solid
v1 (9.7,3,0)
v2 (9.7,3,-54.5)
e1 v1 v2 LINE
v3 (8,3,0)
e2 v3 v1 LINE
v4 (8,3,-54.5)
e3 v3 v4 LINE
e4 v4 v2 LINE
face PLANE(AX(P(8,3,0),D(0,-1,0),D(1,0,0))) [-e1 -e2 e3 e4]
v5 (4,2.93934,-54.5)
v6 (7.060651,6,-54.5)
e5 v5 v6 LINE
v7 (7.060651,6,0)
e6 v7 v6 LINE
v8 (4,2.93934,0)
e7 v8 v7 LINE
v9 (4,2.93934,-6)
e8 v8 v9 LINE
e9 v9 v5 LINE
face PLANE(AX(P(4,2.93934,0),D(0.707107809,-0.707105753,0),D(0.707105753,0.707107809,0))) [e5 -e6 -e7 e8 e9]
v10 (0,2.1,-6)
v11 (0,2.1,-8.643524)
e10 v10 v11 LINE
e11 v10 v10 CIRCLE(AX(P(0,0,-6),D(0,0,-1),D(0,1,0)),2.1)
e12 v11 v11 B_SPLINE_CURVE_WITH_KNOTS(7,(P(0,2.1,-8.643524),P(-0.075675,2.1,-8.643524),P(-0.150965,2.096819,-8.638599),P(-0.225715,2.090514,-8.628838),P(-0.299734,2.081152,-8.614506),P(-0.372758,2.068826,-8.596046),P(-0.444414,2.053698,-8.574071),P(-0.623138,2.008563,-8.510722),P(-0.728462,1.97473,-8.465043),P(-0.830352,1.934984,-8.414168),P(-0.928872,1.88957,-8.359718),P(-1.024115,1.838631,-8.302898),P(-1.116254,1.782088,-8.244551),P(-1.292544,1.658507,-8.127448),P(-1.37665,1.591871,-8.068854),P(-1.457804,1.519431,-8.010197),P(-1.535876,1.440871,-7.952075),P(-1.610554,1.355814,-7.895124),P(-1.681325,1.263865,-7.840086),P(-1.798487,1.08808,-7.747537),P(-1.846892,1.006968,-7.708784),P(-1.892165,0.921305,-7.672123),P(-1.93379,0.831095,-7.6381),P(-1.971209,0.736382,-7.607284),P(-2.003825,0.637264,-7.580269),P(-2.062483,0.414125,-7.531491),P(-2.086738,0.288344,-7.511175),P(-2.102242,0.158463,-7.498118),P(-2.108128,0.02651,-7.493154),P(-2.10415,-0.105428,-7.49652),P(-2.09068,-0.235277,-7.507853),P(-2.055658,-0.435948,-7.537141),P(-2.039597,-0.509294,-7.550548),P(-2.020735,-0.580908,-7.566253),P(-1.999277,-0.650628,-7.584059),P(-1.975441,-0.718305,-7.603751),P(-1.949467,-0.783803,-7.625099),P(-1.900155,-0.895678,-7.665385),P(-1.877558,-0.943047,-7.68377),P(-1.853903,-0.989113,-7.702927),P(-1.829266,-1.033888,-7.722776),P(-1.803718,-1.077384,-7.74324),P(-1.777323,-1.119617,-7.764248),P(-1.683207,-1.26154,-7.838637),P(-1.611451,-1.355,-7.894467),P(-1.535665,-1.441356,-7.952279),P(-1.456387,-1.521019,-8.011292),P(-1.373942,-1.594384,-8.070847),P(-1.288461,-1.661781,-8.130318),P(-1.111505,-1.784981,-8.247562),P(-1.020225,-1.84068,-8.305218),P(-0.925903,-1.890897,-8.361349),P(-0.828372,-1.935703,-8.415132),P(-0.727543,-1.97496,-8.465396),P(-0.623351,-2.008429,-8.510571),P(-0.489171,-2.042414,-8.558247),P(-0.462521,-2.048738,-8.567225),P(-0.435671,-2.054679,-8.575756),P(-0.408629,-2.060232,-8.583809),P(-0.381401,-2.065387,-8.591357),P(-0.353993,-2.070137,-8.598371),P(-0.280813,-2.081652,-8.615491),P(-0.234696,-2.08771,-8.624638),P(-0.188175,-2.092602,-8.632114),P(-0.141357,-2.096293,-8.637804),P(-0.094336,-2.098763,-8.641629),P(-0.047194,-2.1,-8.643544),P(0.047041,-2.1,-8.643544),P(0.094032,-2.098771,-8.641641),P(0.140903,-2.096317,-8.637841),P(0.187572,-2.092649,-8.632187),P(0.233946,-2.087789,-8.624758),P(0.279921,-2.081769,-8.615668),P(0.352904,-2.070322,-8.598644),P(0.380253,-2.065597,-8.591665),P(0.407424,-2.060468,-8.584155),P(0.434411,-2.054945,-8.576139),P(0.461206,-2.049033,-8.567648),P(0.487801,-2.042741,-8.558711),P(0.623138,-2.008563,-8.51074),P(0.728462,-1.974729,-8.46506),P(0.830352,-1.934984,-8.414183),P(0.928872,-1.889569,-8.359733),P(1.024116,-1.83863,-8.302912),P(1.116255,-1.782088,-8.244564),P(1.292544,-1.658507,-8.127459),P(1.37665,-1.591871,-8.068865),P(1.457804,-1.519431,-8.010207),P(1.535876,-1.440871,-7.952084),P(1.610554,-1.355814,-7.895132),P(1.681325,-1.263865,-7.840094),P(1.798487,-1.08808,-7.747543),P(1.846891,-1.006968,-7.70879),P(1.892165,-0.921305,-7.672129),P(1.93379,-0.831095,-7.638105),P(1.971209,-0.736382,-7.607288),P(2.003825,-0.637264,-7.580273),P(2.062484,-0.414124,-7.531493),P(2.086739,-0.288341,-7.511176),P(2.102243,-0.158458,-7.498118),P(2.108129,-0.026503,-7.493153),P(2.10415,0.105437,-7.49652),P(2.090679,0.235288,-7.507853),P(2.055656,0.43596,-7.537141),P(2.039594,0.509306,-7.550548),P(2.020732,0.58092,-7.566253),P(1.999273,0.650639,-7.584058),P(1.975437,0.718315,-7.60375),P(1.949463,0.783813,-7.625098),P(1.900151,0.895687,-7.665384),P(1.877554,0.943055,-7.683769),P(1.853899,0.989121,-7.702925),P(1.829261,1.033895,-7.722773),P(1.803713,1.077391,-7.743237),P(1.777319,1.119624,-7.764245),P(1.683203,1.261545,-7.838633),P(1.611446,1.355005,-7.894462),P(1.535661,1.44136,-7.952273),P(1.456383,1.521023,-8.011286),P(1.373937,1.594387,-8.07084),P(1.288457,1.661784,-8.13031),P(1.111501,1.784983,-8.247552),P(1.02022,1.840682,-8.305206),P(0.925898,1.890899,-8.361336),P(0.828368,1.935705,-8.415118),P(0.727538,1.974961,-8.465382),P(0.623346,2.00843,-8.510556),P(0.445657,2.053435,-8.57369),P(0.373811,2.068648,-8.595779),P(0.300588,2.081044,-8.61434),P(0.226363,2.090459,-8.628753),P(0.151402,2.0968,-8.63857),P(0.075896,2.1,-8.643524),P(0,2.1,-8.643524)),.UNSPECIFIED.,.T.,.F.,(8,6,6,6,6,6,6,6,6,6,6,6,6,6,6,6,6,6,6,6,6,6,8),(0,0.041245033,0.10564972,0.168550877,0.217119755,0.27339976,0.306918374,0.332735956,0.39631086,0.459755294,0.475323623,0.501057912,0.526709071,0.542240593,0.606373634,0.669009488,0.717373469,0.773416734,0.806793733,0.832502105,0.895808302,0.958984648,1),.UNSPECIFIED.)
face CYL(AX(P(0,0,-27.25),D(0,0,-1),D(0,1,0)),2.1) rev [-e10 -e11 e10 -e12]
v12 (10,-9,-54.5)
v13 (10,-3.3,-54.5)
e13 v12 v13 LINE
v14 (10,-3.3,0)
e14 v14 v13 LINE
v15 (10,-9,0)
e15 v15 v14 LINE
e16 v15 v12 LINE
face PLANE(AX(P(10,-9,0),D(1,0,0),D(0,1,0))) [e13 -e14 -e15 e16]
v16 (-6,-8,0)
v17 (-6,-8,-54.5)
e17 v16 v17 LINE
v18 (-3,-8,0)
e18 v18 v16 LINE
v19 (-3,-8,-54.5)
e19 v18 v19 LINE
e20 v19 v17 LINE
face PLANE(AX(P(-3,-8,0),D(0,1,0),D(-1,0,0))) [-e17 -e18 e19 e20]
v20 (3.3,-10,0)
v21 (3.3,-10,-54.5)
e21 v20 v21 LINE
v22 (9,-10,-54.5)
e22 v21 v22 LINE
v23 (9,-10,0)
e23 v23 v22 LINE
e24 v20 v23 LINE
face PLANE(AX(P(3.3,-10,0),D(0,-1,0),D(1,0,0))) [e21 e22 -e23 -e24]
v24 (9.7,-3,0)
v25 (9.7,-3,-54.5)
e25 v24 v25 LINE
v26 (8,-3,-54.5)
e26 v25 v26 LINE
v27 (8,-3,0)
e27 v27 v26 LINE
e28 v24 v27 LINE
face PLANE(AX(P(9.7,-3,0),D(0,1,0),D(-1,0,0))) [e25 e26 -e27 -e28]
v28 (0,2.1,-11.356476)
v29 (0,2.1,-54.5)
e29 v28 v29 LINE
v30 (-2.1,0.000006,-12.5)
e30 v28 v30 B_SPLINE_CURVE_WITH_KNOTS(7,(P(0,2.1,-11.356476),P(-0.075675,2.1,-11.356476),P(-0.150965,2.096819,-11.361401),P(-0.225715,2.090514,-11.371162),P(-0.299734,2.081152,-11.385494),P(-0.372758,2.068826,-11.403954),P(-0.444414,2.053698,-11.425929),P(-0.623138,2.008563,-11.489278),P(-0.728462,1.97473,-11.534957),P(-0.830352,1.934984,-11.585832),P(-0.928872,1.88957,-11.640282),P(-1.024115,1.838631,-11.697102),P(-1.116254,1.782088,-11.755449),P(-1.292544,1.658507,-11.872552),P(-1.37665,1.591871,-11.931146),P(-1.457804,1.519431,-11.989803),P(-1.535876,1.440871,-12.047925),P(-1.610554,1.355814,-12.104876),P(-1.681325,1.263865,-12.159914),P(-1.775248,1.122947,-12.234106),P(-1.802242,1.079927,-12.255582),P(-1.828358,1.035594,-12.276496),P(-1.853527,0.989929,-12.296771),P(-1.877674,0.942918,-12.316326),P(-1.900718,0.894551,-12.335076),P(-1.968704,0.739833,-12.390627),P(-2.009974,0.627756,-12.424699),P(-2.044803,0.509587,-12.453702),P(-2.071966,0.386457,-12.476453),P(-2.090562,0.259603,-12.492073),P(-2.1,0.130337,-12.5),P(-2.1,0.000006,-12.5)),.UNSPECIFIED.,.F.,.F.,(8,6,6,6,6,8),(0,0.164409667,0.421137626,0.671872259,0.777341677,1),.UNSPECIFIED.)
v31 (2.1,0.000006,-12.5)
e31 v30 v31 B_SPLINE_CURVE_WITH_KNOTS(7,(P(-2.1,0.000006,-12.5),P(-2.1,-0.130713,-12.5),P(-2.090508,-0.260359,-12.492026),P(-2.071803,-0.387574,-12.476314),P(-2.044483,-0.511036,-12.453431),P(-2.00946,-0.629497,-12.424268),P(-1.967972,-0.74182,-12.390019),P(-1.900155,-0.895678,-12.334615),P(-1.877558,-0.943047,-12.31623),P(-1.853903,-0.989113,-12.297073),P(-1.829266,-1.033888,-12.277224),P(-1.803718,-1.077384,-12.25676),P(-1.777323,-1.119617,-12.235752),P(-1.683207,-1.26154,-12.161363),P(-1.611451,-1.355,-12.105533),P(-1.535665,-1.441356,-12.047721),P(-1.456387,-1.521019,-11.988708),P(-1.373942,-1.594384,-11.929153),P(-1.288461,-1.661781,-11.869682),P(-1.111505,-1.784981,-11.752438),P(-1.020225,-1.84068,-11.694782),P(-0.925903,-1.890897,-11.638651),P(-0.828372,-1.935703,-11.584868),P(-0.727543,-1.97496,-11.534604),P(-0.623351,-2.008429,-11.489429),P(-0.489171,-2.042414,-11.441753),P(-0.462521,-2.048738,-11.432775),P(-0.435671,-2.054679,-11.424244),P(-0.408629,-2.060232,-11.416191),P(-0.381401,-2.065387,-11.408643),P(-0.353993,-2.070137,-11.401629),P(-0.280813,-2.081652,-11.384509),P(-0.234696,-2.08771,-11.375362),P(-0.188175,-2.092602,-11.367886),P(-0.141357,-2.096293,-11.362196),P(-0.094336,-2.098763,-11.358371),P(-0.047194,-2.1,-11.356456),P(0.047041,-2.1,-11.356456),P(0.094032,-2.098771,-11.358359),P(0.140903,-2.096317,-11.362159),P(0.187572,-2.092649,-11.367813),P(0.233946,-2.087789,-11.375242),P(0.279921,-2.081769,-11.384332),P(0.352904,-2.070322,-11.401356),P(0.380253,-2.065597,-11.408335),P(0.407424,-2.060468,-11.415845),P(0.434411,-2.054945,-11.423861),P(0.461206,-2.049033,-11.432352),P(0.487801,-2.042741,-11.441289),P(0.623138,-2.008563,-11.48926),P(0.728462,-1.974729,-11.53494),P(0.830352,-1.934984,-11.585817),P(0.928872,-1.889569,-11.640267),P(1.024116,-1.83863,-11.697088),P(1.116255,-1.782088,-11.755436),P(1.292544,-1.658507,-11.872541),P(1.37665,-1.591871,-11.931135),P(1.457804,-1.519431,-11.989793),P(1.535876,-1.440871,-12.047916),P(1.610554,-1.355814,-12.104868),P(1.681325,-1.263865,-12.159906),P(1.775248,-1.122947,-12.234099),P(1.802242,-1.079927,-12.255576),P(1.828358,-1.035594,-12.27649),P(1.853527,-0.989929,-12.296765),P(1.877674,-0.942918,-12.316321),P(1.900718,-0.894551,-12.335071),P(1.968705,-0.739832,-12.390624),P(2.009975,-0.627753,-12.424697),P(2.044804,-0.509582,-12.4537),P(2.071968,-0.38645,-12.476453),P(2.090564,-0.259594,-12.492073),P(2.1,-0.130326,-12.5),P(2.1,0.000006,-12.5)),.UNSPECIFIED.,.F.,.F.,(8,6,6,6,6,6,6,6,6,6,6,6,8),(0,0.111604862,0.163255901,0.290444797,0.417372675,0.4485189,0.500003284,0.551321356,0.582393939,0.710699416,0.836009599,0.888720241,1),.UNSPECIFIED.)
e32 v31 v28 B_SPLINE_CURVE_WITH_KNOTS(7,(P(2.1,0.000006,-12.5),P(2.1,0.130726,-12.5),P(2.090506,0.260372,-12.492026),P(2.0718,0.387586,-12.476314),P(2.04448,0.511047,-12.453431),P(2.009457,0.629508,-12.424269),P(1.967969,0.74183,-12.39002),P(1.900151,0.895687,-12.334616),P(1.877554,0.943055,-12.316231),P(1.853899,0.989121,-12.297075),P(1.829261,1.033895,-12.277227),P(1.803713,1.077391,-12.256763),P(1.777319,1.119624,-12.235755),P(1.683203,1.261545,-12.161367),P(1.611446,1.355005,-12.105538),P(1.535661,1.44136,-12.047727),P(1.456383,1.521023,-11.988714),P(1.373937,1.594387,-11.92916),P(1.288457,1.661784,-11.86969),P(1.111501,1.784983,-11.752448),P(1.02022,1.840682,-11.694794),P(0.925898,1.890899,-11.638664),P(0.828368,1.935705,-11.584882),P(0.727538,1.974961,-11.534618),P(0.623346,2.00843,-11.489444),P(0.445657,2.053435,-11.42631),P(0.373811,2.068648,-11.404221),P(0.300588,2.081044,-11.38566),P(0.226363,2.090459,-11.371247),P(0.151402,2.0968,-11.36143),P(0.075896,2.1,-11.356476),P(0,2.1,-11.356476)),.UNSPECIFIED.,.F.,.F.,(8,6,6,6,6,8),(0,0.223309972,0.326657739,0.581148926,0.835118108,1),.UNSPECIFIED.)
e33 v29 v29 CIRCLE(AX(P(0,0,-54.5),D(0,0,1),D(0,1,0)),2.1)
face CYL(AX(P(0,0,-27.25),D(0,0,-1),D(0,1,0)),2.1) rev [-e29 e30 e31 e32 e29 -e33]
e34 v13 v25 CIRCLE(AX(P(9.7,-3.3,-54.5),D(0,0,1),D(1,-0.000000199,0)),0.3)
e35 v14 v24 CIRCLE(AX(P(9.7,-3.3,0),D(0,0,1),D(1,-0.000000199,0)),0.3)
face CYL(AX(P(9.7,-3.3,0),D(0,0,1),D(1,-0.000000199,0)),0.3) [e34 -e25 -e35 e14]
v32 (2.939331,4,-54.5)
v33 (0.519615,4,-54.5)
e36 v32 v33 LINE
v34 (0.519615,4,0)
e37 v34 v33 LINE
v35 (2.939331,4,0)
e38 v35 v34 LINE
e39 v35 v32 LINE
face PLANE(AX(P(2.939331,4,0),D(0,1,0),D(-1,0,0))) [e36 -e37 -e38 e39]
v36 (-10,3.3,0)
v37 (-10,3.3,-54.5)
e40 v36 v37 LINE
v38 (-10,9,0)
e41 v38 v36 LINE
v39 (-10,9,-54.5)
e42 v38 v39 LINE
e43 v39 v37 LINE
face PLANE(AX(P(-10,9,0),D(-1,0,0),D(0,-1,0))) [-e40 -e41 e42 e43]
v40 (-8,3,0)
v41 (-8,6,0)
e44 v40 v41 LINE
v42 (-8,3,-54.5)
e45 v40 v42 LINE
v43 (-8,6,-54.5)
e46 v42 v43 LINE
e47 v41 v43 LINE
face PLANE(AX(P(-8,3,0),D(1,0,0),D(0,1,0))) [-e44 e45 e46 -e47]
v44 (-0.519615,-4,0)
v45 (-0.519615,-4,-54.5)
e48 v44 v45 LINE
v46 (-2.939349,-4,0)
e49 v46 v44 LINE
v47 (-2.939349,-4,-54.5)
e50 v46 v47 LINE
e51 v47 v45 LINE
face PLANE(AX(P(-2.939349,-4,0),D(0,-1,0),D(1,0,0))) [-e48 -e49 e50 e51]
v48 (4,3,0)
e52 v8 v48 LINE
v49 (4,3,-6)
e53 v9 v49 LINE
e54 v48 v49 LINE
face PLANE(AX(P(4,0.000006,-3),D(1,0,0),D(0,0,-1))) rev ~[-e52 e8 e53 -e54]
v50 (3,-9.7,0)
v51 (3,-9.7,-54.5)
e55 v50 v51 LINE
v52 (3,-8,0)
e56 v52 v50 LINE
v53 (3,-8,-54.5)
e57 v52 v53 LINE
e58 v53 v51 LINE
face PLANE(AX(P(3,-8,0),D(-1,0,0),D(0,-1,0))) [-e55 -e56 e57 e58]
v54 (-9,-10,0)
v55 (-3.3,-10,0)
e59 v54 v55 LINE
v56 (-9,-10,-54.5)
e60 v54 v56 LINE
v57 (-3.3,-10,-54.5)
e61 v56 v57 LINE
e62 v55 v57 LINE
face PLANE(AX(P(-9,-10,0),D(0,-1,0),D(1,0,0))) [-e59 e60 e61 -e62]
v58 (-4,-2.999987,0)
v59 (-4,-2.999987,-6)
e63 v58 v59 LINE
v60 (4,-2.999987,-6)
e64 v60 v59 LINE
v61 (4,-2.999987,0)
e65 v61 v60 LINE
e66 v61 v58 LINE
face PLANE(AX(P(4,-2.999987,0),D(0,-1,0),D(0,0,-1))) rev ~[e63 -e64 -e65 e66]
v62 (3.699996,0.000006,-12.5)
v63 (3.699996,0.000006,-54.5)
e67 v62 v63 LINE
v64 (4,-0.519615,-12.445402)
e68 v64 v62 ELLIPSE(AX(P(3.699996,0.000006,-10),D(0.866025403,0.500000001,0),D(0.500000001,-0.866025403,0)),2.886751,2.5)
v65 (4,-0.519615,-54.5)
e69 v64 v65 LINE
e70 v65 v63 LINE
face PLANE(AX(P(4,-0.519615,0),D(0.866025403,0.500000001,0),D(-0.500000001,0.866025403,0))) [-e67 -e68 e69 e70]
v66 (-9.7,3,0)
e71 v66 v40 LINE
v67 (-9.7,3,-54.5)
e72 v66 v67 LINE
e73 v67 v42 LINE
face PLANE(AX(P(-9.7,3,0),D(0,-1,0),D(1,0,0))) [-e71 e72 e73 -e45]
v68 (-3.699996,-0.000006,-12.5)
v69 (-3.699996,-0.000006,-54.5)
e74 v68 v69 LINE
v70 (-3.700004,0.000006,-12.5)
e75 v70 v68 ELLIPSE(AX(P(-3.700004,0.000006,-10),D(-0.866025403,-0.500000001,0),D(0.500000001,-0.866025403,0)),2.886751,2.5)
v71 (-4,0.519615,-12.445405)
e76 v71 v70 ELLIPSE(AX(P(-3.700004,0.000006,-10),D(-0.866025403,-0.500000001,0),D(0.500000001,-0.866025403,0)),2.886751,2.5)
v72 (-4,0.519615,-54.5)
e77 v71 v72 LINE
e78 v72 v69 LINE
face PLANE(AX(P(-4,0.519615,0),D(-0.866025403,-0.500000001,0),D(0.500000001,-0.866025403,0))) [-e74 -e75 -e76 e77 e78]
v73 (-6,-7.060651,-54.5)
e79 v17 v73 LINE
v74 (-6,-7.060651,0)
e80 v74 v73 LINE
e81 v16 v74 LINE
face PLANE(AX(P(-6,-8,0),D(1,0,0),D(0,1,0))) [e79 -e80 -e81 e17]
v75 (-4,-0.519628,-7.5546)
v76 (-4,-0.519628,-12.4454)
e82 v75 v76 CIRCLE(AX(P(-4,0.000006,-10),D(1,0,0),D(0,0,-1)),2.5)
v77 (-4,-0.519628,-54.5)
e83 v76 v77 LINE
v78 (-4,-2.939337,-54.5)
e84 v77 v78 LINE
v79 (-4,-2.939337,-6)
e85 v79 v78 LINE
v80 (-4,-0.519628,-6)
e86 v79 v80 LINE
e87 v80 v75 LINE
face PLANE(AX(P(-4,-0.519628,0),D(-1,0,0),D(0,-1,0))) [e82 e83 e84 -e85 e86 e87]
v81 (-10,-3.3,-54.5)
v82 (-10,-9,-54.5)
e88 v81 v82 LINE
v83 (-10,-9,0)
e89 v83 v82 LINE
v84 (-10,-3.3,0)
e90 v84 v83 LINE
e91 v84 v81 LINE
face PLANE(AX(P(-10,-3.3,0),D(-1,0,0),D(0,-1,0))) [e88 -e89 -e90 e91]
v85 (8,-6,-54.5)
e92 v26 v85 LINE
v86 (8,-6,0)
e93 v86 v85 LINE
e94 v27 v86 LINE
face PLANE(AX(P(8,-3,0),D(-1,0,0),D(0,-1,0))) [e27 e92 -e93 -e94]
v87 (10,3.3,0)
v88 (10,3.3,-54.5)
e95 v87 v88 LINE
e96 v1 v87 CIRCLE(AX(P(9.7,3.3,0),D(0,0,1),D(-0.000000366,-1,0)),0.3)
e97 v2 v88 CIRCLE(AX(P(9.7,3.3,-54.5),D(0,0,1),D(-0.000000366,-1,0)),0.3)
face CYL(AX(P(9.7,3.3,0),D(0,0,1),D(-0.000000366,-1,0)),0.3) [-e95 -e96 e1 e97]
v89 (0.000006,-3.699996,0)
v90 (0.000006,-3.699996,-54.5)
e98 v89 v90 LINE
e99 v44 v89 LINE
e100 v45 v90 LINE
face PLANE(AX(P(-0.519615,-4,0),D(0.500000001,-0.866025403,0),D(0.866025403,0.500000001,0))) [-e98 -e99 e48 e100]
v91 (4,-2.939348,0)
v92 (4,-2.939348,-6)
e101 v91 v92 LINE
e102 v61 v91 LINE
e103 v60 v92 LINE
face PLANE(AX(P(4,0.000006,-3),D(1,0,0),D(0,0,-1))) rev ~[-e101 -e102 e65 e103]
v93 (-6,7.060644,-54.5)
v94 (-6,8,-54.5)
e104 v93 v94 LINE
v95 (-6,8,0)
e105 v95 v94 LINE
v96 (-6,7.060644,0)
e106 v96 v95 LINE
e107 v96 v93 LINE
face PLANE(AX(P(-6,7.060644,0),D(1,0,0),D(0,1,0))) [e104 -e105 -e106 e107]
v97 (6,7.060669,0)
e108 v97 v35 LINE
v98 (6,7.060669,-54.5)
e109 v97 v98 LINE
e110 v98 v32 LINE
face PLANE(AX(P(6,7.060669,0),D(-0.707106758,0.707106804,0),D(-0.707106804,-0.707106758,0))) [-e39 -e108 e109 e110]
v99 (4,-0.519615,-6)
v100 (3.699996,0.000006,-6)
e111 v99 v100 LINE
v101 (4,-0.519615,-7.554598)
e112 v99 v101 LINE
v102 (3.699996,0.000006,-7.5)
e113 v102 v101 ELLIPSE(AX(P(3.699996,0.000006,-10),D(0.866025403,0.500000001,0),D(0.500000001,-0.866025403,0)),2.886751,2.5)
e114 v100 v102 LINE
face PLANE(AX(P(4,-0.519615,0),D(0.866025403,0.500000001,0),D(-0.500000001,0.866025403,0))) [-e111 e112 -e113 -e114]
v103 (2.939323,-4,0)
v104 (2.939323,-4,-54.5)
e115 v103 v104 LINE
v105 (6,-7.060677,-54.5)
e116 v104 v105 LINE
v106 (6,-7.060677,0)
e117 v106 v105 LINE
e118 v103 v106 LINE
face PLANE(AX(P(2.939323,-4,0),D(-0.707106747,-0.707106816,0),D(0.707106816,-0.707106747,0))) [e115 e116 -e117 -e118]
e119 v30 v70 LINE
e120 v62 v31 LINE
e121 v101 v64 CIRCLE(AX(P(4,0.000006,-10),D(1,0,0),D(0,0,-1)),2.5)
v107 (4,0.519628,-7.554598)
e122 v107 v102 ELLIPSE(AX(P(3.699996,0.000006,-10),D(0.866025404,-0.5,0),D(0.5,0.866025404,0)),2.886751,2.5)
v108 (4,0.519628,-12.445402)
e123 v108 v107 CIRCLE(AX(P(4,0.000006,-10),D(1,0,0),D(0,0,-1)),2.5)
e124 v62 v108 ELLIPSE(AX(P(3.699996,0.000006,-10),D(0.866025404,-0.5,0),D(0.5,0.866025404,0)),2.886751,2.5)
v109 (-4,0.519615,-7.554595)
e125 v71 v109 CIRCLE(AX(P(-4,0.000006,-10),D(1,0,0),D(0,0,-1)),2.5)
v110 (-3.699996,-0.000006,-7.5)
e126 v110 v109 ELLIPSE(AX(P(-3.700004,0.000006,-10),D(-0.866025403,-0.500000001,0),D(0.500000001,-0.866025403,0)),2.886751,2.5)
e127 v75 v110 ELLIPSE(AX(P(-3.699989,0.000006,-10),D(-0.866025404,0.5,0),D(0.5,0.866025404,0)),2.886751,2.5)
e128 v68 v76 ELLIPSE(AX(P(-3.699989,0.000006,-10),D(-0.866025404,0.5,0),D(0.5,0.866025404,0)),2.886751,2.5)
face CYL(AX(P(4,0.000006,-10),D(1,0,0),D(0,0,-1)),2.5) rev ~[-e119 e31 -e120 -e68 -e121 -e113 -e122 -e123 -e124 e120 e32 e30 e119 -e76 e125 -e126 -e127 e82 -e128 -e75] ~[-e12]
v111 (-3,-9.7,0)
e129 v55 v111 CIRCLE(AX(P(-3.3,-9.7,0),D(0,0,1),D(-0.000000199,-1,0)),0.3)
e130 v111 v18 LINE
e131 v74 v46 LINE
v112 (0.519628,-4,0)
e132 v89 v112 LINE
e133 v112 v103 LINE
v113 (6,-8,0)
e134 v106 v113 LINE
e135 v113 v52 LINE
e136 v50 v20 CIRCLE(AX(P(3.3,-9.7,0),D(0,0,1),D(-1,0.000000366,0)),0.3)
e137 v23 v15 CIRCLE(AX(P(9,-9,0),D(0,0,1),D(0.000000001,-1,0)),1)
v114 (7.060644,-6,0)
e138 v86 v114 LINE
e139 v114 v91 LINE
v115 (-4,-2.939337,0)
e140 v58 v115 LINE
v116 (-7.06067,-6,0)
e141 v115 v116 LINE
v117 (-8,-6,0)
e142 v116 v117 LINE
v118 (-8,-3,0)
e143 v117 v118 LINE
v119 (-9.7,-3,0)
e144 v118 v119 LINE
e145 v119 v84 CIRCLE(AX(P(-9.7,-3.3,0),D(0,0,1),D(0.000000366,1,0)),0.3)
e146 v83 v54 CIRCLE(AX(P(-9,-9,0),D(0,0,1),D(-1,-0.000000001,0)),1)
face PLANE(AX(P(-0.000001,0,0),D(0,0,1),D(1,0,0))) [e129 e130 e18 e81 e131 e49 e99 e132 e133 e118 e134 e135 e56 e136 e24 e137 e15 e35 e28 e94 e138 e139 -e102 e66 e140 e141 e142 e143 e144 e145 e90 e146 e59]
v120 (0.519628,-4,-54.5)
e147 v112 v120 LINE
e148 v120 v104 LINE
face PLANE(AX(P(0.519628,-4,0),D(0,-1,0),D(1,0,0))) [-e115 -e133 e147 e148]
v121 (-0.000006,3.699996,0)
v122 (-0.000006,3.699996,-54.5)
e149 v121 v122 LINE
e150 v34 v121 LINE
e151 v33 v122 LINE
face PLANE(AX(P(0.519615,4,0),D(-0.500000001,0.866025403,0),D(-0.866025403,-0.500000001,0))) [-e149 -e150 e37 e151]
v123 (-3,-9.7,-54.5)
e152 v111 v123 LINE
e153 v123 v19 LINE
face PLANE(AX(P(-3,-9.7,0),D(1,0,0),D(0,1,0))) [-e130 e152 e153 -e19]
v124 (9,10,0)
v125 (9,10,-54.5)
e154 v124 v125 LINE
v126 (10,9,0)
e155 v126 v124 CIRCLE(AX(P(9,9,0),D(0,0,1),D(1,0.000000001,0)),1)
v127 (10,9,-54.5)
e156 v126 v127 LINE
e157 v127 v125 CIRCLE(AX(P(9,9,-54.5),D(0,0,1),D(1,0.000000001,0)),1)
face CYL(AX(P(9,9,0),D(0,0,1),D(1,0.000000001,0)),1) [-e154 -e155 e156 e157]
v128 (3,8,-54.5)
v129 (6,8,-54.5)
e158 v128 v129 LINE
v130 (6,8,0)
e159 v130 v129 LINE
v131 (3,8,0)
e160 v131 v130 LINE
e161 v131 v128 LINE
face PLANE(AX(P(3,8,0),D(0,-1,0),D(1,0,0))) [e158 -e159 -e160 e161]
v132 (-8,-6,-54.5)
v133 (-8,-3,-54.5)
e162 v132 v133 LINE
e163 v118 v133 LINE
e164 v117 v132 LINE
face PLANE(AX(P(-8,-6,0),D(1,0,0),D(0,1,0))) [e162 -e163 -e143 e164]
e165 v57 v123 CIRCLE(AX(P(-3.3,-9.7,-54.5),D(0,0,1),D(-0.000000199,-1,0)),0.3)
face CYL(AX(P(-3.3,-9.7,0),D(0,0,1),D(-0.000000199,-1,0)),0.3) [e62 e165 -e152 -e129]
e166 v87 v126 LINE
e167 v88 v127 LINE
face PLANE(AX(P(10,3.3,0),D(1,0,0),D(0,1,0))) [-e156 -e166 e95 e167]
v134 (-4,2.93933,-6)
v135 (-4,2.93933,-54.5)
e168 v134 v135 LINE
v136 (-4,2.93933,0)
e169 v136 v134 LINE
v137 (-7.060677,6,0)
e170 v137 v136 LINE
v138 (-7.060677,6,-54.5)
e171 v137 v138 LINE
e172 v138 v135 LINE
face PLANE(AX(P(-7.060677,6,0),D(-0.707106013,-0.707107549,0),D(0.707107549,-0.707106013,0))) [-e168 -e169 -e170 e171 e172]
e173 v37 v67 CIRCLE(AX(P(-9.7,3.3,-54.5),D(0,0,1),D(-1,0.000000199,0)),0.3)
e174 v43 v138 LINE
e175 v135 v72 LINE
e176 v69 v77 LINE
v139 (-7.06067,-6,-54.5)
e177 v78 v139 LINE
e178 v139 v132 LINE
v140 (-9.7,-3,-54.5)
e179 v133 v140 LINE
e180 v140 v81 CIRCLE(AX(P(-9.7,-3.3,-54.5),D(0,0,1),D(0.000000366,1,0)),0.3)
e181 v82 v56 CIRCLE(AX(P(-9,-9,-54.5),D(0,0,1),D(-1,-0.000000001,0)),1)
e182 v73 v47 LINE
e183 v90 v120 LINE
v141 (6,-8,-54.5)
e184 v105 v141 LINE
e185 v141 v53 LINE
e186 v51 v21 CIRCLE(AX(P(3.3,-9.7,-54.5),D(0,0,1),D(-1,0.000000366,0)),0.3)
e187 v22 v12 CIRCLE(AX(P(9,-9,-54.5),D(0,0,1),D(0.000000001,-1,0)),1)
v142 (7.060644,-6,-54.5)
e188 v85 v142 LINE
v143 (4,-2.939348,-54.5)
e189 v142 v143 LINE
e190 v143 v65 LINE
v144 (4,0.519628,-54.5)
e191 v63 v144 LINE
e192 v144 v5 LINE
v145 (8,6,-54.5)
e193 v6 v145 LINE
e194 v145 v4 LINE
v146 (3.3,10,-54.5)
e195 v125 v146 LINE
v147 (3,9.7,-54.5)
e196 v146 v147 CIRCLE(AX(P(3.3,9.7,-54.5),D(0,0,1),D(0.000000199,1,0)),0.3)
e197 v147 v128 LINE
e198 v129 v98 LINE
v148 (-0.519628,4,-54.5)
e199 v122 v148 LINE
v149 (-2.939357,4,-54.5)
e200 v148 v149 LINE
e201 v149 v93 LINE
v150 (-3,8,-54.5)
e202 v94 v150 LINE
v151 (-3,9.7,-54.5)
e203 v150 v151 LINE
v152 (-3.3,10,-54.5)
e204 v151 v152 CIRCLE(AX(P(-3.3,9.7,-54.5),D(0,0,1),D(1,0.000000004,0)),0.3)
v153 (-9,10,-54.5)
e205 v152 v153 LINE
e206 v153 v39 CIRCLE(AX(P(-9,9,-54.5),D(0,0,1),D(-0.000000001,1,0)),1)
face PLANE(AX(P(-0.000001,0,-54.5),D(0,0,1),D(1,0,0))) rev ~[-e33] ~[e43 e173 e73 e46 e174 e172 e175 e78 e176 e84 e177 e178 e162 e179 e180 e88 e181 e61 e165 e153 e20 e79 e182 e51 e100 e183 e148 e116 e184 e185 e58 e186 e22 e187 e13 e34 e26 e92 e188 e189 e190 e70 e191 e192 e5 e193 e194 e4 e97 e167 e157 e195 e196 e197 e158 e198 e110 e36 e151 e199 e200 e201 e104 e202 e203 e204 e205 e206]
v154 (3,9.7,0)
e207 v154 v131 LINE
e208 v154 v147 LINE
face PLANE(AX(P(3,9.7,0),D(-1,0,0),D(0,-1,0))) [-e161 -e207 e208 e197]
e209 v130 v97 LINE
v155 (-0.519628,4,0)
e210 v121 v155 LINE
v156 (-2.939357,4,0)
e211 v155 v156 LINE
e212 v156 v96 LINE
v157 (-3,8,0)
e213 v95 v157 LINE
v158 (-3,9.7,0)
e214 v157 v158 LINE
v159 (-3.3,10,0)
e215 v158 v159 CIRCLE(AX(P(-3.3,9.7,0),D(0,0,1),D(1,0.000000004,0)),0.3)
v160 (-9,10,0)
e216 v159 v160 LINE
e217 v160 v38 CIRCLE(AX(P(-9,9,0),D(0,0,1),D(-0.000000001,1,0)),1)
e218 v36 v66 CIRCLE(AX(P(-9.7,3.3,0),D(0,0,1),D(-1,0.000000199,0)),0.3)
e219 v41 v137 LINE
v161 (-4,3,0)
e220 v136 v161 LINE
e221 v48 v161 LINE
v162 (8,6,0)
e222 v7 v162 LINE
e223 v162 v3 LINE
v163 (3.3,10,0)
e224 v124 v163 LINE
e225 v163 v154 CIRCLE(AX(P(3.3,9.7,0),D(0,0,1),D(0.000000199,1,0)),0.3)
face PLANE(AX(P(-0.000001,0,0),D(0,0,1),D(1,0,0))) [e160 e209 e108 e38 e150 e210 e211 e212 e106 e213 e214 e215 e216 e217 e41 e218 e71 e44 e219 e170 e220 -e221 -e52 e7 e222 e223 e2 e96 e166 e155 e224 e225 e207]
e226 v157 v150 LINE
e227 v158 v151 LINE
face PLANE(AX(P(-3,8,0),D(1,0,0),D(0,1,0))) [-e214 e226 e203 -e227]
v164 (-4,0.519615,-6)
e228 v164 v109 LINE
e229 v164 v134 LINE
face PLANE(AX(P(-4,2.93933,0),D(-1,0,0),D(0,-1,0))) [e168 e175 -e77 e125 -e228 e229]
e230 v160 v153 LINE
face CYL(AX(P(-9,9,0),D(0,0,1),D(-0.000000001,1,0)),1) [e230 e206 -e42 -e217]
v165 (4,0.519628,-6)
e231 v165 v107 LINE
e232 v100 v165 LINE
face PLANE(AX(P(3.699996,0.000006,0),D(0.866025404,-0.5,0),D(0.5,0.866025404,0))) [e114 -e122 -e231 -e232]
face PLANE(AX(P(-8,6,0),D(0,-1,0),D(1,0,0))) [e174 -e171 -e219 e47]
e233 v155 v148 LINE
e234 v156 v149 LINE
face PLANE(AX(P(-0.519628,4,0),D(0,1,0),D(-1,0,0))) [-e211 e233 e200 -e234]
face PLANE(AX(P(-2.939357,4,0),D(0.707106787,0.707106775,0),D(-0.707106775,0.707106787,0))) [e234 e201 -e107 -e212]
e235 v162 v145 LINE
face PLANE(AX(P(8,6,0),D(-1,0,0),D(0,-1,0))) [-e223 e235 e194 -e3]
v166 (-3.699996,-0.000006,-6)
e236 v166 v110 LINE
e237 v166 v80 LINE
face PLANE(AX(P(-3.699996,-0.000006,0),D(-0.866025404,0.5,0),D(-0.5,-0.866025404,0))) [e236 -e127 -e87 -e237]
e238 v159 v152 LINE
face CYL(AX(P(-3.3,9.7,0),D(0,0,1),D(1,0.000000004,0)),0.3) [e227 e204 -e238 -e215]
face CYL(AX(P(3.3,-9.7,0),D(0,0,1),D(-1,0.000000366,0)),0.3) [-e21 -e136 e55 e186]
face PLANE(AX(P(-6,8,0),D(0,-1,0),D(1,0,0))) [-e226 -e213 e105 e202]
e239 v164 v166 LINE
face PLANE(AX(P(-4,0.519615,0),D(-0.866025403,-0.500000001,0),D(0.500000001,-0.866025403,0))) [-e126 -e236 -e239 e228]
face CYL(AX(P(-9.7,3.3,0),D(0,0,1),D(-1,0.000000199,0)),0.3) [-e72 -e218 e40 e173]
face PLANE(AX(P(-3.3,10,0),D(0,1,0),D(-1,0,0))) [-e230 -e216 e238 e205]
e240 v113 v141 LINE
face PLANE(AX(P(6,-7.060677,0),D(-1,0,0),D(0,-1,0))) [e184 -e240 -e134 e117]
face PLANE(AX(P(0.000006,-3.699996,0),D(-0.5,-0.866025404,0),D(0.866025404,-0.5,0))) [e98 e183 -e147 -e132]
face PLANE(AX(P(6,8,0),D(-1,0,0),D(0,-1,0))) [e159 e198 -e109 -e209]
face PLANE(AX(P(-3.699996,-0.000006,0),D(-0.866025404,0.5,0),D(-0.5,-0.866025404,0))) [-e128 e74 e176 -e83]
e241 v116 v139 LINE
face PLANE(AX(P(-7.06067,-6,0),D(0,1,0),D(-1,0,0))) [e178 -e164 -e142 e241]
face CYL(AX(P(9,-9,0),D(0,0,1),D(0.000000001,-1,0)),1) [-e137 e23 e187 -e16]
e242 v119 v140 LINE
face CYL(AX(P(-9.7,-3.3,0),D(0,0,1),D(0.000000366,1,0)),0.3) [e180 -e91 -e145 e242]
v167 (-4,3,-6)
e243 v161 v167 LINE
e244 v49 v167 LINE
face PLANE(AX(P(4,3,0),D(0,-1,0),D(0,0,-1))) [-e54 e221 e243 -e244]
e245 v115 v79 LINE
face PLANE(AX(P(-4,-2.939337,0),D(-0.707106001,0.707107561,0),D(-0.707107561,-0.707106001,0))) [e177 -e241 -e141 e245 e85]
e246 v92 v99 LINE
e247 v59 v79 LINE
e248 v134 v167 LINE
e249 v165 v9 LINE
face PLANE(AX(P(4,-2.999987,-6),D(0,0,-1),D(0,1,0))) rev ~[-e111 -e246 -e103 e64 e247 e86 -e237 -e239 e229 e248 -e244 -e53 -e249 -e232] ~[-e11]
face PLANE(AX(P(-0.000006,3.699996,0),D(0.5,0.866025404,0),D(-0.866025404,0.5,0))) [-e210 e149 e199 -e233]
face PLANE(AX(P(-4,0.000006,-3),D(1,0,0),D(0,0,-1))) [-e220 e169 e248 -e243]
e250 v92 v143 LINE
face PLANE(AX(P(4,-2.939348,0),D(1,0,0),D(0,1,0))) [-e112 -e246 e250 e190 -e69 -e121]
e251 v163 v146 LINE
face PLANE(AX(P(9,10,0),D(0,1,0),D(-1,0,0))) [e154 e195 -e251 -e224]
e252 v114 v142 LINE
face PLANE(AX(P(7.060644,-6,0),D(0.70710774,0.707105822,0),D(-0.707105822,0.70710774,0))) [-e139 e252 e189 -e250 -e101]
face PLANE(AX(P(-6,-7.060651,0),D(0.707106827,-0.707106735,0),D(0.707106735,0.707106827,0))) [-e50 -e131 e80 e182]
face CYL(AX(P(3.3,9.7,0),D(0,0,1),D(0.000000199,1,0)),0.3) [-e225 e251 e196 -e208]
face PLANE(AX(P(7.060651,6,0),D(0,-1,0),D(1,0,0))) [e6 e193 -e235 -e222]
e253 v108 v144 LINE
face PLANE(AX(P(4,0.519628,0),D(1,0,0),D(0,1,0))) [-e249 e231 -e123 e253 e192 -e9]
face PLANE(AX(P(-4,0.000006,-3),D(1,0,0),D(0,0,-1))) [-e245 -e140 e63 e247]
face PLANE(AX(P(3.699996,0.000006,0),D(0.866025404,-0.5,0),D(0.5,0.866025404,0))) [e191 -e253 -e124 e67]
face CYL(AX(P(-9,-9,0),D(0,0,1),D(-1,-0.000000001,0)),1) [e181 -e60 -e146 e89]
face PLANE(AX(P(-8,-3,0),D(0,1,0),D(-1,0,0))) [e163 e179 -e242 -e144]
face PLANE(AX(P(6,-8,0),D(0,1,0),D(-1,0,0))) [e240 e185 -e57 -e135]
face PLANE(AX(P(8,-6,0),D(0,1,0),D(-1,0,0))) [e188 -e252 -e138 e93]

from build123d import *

# Parameters (mm, degrees)
BOSS_EXTRUDE1_DEPTH = 54.5
SKETCH2_W           = 54.5
SKETCH2_H           = 2.1
SKETCH4_R           = 2.5
CUT_EXTRUDE1_DEPTH  = 8
SKETCH5_W           = 6
SKETCH5_H           = 5.999987125
CUT_EXTRUDE2_DEPTH  = 8


with BuildPart() as part:
    # Sketch1 → Boss-Extrude1 (new body)
    with BuildSketch(Plane.XY):
        with BuildLine():
            Line((-10, 9), (-10, 3.29999995))
            ThreePointArc((-10, 3.29999995), (-9.912132049, 3.087867916), (-9.7, 3))
            Line((-9.7, 3), (-8, 3))
            Line((-8, 3), (-8, 6))
            Line((-8, 6), (-7.060677, 6))
            Line((-7.060677, 6), (-4, 2.93932965))
            Line((-4, 2.93932965), (-4, 0.519615242))
            Line((-4, 0.519615242), (-3.699996283, -6.437e-06))
            Line((-3.699996283, -6.437e-06), (-4, -0.519628117))
            Line((-4, -0.519628117), (-4, -2.93933725))
            Line((-4, -2.93933725), (-7.0606695, -6))
            Line((-7.0606695, -6), (-8, -6))
            Line((-8, -6), (-8, -3))
            Line((-8, -3), (-9.7, -3))
            ThreePointArc((-9.7, -3), (-9.912132049, -3.087867916), (-10, -3.29999995))
            Line((-10, -3.29999995), (-10, -9))
            ThreePointArc((-10, -9), (-9.707106781, -9.707106781), (-9, -10))
            Line((-9, -10), (-3.29999995, -10))
            ThreePointArc((-3.29999995, -10), (-3.087867916, -9.912132049), (-3, -9.7))
            Line((-3, -9.7), (-3, -8))
            Line((-3, -8), (-6, -8))
            Line((-6, -8), (-6, -7.0606515))
            Line((-6, -7.0606515), (-2.9393489, -4))
            Line((-2.9393489, -4), (-0.519615242, -4))
            Line((-0.519615242, -4), (6.437e-06, -3.699996283))
            Line((6.437e-06, -3.699996283), (0.519628117, -4))
            Line((0.519628117, -4), (2.9393227, -4))
            Line((2.9393227, -4), (6, -7.060677))
            Line((6, -7.060677), (6, -8))
            Line((6, -8), (3, -8))
            Line((3, -8), (3, -9.7))
            ThreePointArc((3, -9.7), (3.087867916, -9.912132049), (3.29999995, -10))
            Line((3.29999995, -10), (9, -10))
            ThreePointArc((9, -10), (9.707106781, -9.707106781), (10, -9))
            Line((10, -9), (10, -3.29999995))
            ThreePointArc((10, -3.29999995), (9.912132049, -3.087867916), (9.7, -3))
            Line((9.7, -3), (8, -3))
            Line((8, -3), (8, -6))
            Line((8, -6), (7.0606435, -6))
            Line((7.0606435, -6), (4, -2.9393482))
            Line((4, -2.9393482), (4, -0.519615242))
            Line((4, -0.519615242), (3.699996283, 6.437e-06))
            Line((3.699996283, 6.437e-06), (4, 0.519628117))
            Line((4, 0.519628117), (4, 2.9393401))
            Line((4, 2.9393401), (7.060651, 6))
            Line((7.060651, 6), (8, 6))
            Line((8, 6), (8, 3))
            Line((8, 3), (9.7, 3))
            ThreePointArc((9.7, 3), (9.912132049, 3.087867916), (10, 3.29999995))
            Line((10, 3.29999995), (10, 9))
            ThreePointArc((10, 9), (9.707106781, 9.707106781), (9, 10))
            Line((9, 10), (3.29999995, 10))
            ThreePointArc((3.29999995, 10), (3.087867916, 9.912132049), (3, 9.7))
            Line((3, 9.7), (3, 8))
            Line((3, 8), (6, 8))
            Line((6, 8), (6, 7.060669))
            Line((6, 7.060669), (2.9393308, 4))
            Line((2.9393308, 4), (0.519615242, 4))
            Line((0.519615242, 4), (-6.437e-06, 3.699996283))
            Line((-6.437e-06, 3.699996283), (-0.519628117, 4))
            Line((-0.519628117, 4), (-2.93935655, 4))
            Line((-2.93935655, 4), (-6, 7.0606435))
            Line((-6, 7.0606435), (-6, 8))
            Line((-6, 8), (-3, 8))
            Line((-3, 8), (-3, 9.7))
            ThreePointArc((-3, 9.7), (-3.087867966, 9.912132034), (-3.3, 10))
            Line((-3.3, 10), (-9, 10))
            ThreePointArc((-9, 10), (-9.707106781, 9.707106781), (-10, 9))
        make_face()
    extrude(amount=-BOSS_EXTRUDE1_DEPTH)

    # Sketch2 → Cut-Revolve1 (revolve, cut)
    with BuildSketch(Plane(origin=(0, 0, 0), x_dir=(0, 0, -1), z_dir=(1, 0, 0))):
        with Locations((27.25, 1.05)):
            Rectangle(SKETCH2_W, SKETCH2_H)
    revolve(axis=Axis((0, 0, -54.5), (0, 0, 1)), mode=Mode.SUBTRACT)

    # Sketch4 → Cut-Extrude1 (cut)
    with BuildSketch(Plane(origin=(4, 0, 0), x_dir=(0, 0, -1), z_dir=(1, 0, 0))):
        with Locations((10, 6.437e-06)):
            Circle(SKETCH4_R)
    extrude(amount=-CUT_EXTRUDE1_DEPTH, mode=Mode.SUBTRACT)

    # Sketch5 → Cut-Extrude2 (cut)
    with BuildSketch(Plane(origin=(4, 0, 0), x_dir=(0, 0, -1), z_dir=(1, 0, 0))):
        with Locations((3, 6.437e-06)):
            Rectangle(SKETCH5_W, SKETCH5_H)
    extrude(amount=-CUT_EXTRUDE2_DEPTH, mode=Mode.SUBTRACT)


solid = part.part
